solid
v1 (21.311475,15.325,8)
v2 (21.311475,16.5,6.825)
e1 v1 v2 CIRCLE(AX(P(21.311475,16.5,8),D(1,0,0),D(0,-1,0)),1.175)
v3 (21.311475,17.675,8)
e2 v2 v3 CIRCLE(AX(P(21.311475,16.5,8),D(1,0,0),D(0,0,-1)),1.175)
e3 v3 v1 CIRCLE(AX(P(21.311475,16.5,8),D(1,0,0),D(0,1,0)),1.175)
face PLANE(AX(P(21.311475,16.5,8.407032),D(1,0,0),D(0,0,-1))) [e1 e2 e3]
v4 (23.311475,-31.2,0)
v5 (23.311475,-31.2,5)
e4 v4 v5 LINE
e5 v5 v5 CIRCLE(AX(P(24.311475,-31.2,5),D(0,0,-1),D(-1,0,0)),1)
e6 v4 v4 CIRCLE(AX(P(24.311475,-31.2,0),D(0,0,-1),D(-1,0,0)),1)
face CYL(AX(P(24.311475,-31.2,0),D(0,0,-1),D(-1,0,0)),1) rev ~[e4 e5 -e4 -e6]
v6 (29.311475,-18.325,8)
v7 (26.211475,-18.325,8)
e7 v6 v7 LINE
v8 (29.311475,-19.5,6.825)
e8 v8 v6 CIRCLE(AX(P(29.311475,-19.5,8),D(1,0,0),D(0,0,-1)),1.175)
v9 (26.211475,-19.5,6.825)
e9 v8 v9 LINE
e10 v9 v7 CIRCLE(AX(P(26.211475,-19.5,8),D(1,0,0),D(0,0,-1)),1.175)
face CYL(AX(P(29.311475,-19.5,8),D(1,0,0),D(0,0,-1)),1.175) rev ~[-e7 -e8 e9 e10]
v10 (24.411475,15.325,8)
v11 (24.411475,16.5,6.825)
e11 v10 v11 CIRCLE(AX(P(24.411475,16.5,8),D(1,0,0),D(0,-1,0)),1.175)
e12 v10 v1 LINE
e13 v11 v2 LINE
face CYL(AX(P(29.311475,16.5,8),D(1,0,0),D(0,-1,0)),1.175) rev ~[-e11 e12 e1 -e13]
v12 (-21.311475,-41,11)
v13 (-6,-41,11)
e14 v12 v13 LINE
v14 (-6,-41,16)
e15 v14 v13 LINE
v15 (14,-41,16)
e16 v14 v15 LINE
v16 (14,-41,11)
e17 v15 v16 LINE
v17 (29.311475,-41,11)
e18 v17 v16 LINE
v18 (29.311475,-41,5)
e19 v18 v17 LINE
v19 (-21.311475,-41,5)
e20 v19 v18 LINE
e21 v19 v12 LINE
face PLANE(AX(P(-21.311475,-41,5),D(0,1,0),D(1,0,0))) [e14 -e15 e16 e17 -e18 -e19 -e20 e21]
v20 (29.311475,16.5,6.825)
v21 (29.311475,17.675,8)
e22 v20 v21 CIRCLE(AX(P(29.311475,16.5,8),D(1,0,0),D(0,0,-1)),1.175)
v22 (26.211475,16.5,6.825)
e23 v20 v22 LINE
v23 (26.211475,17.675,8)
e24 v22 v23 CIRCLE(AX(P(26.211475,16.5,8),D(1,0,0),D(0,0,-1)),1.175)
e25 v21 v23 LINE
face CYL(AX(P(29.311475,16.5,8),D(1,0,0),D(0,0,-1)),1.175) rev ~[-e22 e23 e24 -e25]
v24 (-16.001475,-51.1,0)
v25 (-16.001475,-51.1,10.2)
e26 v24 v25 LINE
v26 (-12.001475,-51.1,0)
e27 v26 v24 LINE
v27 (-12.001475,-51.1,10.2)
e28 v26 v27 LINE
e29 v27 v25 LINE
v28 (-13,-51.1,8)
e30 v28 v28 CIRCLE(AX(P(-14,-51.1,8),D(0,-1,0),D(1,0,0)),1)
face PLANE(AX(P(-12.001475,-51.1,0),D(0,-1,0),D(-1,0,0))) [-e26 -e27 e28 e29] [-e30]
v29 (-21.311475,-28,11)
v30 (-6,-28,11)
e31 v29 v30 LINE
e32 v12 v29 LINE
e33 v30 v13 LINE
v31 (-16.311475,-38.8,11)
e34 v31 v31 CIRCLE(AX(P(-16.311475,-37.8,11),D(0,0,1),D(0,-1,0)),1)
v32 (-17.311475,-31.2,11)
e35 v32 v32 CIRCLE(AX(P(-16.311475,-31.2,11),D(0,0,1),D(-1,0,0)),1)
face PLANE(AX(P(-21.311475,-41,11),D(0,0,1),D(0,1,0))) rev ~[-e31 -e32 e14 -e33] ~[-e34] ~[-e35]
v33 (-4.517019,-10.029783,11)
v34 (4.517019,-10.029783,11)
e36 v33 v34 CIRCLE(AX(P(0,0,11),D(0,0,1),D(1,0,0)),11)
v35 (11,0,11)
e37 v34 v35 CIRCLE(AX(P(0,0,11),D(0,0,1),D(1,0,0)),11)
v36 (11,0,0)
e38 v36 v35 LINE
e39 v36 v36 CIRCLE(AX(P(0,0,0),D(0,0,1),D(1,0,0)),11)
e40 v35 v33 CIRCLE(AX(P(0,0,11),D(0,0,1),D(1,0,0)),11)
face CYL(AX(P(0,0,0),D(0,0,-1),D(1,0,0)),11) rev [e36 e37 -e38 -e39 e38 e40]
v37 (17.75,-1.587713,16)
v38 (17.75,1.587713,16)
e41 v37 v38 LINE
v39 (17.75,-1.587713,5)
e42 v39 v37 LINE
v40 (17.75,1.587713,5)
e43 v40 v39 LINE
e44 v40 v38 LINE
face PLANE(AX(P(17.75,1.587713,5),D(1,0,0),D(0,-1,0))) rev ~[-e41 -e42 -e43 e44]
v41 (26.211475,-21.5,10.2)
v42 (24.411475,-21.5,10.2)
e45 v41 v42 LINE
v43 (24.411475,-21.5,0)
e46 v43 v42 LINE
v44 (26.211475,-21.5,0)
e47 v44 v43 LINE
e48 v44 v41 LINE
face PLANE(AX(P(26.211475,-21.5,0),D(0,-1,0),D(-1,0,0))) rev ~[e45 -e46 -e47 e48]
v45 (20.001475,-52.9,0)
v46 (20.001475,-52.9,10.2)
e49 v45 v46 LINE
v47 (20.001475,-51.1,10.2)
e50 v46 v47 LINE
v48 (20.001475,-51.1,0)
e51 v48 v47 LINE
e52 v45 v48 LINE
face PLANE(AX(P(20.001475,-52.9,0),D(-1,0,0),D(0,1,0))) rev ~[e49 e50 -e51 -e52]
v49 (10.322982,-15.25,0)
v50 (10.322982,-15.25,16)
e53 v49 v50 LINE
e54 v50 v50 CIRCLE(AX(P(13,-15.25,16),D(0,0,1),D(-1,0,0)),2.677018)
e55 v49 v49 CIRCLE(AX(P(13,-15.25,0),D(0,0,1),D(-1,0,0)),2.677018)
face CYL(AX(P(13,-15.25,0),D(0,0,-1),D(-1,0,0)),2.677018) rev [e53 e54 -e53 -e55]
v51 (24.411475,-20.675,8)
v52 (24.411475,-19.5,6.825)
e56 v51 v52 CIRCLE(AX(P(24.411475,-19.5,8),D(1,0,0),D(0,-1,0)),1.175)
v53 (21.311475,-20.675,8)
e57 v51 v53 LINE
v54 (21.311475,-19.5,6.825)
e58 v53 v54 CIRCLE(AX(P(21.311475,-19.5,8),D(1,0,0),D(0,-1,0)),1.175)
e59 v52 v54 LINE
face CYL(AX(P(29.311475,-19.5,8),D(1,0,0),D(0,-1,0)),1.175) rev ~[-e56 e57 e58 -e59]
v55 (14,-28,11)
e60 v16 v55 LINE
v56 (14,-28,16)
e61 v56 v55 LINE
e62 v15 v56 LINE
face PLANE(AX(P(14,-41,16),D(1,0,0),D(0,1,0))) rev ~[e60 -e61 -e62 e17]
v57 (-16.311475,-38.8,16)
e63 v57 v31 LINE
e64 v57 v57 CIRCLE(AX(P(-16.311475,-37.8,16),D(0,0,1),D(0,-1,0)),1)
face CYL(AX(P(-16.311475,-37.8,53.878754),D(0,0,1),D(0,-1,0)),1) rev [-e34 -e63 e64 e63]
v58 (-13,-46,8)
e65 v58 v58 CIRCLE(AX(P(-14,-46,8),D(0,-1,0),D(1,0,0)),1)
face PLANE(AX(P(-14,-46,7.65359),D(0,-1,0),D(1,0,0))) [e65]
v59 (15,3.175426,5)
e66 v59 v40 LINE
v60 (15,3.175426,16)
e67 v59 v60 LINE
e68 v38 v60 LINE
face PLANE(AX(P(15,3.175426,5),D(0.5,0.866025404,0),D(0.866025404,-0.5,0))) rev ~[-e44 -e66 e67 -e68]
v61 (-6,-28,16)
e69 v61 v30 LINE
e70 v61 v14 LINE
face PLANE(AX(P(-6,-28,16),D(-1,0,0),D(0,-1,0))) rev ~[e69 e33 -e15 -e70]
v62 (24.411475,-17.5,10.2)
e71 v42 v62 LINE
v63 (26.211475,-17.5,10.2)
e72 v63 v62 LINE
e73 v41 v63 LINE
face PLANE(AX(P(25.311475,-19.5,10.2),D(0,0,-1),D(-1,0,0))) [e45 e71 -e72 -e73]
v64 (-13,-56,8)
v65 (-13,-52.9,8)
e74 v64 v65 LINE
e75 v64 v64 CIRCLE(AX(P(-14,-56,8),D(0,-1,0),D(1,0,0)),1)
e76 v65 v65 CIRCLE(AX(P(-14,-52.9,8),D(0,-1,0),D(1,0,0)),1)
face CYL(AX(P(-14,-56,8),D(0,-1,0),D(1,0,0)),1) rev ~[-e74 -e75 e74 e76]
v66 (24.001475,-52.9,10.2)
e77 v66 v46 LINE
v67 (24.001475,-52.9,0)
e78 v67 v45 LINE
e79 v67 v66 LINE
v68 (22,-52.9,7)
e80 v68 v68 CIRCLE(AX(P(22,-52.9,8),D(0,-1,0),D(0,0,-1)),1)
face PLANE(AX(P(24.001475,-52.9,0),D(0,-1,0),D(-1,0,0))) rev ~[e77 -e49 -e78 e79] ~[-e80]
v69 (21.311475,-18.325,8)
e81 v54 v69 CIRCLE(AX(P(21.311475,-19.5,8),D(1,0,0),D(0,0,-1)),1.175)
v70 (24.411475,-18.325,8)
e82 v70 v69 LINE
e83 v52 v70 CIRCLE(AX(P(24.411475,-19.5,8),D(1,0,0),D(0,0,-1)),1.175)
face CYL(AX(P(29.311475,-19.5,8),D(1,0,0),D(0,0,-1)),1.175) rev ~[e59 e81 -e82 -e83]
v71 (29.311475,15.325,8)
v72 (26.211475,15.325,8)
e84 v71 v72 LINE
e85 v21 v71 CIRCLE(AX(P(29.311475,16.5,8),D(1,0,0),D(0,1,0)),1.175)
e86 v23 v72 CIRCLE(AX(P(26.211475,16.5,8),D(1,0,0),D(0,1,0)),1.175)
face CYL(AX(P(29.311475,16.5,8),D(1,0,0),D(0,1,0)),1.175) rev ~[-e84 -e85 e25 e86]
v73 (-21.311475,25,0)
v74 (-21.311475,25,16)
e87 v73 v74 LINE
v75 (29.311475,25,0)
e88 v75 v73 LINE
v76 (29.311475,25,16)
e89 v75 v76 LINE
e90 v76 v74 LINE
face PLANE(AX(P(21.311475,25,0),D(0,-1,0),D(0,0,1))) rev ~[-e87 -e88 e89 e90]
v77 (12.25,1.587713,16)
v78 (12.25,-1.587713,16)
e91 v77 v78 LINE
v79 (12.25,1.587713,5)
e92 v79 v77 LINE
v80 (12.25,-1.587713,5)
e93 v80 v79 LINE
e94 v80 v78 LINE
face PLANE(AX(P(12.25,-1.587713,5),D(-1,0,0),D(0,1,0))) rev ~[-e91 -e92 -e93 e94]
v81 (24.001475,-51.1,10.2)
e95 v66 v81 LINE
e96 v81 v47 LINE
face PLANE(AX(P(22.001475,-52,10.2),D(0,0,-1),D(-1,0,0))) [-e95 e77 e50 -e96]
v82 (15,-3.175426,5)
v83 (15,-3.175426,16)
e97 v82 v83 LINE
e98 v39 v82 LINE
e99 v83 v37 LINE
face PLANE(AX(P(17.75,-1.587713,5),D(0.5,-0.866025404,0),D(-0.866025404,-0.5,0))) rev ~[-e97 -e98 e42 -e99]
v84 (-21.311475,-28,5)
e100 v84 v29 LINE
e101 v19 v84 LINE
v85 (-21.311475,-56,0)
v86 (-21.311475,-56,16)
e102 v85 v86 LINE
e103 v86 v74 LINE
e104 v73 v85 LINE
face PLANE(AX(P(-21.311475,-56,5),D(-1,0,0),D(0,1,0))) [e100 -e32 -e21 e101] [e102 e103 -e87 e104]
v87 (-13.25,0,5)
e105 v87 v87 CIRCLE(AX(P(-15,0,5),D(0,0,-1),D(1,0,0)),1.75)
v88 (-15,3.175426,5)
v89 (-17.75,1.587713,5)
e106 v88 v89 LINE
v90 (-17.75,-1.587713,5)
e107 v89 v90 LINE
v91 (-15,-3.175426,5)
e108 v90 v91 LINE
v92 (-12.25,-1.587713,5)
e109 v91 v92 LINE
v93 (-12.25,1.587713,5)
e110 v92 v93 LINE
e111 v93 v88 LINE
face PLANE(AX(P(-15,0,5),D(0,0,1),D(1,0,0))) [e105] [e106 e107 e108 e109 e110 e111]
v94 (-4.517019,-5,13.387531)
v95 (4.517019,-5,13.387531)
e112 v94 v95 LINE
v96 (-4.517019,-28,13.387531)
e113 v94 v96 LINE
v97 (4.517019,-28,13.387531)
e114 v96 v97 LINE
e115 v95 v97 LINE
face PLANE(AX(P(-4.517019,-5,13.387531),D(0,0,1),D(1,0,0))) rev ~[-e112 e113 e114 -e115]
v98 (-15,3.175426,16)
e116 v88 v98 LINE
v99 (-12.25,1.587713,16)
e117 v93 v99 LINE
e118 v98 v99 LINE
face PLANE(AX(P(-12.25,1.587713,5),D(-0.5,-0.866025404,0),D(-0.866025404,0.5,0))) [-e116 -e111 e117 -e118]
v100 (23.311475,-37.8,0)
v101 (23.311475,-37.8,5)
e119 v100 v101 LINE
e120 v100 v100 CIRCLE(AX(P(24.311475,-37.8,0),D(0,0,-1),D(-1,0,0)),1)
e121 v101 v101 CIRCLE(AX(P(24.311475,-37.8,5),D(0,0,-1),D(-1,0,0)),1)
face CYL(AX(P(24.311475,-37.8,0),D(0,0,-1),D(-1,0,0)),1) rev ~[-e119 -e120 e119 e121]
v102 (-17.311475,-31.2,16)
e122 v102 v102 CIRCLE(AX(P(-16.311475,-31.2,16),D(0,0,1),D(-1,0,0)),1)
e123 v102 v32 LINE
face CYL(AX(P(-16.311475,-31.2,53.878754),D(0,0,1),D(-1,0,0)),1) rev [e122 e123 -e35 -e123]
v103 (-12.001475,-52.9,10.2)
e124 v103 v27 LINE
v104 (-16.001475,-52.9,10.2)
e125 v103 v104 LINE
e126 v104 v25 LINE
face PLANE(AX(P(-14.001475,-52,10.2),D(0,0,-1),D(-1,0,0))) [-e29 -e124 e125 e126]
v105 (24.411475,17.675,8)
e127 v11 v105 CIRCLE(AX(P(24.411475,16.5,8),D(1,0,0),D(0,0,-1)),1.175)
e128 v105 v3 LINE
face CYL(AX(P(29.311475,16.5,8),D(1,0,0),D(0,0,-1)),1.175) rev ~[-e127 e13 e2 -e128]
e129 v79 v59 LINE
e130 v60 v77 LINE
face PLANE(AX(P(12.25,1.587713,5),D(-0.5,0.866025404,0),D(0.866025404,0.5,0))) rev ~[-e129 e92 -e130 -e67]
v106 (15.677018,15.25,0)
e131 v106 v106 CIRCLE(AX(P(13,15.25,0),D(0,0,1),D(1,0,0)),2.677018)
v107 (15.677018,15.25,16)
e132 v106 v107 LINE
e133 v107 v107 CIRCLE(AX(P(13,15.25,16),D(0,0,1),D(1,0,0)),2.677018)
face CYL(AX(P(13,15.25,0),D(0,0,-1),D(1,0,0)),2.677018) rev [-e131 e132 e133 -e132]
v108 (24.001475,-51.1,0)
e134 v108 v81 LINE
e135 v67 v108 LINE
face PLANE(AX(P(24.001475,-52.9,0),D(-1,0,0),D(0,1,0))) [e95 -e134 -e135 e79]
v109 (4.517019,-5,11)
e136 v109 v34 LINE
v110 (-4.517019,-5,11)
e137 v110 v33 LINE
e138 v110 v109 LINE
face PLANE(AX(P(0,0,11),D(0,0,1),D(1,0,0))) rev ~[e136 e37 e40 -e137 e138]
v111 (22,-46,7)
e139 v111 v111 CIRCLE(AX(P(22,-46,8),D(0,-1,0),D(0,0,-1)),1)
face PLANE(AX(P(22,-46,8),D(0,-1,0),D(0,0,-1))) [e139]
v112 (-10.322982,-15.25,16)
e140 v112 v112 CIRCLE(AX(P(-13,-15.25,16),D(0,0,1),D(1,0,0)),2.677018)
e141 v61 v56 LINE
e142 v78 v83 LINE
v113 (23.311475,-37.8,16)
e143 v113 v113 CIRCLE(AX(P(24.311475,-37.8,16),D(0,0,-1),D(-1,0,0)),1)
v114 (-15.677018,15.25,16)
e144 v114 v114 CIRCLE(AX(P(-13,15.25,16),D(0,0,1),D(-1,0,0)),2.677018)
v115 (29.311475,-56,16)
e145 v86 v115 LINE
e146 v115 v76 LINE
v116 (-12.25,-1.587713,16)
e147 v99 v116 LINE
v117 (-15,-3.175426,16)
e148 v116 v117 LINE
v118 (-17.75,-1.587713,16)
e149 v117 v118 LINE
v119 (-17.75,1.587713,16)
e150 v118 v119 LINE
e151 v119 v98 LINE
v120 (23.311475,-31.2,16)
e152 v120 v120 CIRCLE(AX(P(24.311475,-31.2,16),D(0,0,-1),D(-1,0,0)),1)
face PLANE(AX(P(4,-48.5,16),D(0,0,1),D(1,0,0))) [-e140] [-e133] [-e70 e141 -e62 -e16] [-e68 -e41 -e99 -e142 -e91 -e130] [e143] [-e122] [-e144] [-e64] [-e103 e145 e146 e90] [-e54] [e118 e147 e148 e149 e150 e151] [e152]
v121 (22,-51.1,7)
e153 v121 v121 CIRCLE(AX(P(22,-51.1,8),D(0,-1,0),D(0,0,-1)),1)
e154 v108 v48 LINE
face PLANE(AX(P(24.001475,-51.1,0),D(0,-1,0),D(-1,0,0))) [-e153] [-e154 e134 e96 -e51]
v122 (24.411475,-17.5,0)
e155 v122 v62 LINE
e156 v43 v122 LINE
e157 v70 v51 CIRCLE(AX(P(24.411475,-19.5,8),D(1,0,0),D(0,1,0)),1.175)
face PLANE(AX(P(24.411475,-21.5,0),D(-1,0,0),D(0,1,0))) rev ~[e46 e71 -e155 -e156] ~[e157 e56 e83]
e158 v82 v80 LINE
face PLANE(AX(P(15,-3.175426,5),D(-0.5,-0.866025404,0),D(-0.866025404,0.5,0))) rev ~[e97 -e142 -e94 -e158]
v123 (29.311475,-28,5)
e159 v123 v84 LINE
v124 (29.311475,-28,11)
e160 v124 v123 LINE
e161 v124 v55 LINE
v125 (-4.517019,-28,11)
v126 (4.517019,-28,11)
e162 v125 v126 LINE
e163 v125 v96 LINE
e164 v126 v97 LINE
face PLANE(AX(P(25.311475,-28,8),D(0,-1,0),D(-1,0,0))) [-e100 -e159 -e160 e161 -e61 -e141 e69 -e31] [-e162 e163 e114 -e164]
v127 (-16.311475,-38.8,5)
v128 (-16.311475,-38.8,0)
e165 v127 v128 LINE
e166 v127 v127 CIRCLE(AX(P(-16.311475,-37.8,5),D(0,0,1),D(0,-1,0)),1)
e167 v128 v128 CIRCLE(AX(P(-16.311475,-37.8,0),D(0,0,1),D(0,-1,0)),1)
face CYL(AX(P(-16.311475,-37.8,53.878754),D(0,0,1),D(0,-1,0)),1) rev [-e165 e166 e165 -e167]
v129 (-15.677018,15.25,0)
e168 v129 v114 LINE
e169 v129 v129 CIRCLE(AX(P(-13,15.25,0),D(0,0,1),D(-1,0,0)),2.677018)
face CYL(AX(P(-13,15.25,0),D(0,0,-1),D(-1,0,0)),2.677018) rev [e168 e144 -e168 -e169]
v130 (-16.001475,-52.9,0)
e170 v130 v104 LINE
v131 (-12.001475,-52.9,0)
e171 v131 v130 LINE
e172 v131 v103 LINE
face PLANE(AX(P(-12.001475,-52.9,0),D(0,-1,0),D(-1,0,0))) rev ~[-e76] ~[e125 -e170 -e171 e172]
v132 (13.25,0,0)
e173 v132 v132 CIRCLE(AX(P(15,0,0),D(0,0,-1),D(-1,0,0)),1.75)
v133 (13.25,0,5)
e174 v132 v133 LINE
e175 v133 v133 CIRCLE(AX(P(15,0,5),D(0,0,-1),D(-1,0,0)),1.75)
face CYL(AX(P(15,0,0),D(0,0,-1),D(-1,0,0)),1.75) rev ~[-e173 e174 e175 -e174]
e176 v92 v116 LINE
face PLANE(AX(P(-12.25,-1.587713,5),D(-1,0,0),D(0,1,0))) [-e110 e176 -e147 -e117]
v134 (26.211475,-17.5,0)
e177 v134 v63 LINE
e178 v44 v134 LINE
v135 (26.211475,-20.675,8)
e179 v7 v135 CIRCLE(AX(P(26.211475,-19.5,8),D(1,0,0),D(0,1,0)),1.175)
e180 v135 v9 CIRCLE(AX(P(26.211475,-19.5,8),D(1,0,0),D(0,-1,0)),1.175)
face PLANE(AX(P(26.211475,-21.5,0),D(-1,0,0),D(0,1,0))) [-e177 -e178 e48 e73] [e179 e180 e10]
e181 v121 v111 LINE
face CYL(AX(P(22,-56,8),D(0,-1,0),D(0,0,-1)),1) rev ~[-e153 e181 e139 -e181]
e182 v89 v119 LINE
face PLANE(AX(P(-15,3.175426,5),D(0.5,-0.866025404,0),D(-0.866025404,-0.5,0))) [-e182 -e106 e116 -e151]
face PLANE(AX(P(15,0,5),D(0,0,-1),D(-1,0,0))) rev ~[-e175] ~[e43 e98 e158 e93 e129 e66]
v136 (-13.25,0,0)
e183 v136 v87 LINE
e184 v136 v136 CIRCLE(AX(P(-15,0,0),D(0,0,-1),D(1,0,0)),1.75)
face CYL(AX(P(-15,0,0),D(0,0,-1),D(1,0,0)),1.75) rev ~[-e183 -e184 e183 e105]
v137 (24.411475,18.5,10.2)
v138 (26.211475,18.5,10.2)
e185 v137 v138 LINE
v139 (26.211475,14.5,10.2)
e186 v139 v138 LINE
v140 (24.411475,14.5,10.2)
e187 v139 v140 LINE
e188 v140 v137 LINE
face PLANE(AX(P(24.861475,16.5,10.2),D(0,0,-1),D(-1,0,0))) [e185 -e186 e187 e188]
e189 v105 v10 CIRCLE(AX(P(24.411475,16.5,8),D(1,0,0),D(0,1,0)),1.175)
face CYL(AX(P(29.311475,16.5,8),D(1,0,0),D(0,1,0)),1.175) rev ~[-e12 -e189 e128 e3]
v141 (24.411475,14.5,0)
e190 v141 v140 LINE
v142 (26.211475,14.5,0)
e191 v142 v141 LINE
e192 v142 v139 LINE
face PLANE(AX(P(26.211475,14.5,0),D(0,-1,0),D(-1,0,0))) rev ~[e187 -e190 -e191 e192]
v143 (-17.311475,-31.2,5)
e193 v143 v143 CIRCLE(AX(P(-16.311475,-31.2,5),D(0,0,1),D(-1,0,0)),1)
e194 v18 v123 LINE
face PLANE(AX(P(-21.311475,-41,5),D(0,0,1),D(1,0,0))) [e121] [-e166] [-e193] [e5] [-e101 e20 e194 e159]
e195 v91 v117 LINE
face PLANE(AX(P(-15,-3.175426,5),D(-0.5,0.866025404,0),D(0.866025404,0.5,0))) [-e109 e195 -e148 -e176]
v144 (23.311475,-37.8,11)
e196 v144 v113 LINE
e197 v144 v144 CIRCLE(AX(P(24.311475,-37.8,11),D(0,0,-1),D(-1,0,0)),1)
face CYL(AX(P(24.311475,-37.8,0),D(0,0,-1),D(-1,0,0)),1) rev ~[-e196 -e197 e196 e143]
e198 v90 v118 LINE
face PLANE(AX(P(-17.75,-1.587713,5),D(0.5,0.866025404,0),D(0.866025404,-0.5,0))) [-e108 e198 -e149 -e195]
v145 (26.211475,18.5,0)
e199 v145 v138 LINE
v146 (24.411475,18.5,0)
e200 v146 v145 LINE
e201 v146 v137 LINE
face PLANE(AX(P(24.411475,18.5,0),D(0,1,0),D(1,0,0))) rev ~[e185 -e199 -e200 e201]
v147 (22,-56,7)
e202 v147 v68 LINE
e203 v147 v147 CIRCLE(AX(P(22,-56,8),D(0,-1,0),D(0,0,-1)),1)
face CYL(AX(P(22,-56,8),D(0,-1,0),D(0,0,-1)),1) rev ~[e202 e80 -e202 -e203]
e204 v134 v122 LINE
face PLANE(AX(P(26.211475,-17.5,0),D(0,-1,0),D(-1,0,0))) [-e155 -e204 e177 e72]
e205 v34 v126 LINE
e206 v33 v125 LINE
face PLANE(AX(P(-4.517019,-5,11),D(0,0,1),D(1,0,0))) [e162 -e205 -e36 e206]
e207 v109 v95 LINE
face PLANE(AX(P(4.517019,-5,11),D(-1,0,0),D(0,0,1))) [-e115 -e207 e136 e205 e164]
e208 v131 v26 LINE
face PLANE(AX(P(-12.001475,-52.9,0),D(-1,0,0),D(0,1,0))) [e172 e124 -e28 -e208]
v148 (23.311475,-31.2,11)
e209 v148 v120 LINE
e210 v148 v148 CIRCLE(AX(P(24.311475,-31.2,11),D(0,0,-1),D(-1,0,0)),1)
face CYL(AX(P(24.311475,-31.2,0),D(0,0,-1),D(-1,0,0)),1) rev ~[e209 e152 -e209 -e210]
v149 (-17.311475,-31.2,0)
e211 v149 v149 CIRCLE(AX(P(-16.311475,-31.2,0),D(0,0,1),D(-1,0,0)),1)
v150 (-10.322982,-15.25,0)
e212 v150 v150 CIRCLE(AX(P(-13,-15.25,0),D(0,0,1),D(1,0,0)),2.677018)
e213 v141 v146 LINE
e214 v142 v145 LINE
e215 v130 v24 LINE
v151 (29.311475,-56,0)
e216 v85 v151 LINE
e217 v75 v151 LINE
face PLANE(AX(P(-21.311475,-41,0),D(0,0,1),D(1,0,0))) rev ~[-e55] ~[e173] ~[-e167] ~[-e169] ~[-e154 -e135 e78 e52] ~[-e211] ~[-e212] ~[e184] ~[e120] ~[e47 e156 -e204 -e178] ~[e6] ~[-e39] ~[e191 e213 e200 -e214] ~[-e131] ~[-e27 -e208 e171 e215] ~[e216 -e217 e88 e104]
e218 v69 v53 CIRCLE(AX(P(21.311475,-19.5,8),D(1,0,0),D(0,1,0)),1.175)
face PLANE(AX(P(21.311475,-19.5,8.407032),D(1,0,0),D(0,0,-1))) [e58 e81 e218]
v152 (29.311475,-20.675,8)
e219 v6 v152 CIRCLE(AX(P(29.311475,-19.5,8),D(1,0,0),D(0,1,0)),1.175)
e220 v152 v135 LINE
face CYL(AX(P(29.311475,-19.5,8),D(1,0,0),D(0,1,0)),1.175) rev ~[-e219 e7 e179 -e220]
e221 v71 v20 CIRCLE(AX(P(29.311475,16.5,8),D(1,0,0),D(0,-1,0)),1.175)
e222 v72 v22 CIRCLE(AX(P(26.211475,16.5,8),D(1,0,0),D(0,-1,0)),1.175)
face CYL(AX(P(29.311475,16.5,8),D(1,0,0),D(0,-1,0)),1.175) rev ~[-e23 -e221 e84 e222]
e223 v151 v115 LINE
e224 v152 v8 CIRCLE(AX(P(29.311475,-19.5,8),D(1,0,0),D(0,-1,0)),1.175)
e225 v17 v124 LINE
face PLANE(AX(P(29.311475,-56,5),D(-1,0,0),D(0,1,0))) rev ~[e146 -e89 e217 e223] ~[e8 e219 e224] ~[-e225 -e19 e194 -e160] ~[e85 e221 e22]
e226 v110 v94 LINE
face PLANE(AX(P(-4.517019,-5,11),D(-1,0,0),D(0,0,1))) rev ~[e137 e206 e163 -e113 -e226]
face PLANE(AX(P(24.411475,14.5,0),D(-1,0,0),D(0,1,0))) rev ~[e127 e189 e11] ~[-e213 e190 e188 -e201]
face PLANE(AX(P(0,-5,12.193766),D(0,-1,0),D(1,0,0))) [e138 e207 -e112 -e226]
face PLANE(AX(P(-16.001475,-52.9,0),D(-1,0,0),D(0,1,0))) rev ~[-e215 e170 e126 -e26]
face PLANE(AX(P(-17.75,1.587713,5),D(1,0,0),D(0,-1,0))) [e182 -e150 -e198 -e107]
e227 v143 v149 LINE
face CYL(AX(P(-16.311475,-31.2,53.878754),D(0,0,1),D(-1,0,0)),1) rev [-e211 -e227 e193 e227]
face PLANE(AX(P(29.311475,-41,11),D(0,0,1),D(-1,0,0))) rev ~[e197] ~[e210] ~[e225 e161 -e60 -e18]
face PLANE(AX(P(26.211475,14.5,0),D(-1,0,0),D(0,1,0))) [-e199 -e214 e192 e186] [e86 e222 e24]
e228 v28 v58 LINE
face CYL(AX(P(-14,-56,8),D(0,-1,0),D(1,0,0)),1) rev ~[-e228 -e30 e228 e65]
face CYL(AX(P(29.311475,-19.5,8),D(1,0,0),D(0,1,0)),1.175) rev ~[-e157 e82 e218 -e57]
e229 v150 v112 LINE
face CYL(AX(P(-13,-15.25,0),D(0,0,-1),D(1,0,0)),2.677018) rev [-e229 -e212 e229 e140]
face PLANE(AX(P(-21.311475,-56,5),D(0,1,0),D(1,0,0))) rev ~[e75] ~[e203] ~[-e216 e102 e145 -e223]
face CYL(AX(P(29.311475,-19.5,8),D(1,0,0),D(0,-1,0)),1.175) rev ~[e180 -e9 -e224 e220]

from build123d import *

# Parameters (mm, degrees)
SKETCH1_W               = 42.62295082
SKETCH1_H               = 50
SKETCH1_R               = 2.677018134
BOSS_EXTRUDE1_DEPTH     = 16
SKETCH2_R               = 11
CUT_EXTRUDE2_DEPTH      = 11
SKETCH3_R               = 1.75
CUT_EXTRUDE3_DEPTH      = 10
CUT_EXTRUDE6_START      = -5
CUT_EXTRUDE6_DEPTH      = 32.540101042
SKETCH10_W              = 42.62295082
SKETCH10_H              = 16
BOSS_EXTRUDE2_DEPTH     = 16
SKETCH14_W              = 6
SKETCH14_H              = 13
CUT_EXTRUDE7_DEPTH      = 62.267576552
BOSS_EXTRUDE3_DEPTH     = 8
CUT_EXTRUDE9_DEPTH      = 8
SKETCH18_W              = 0.9
SKETCH18_H              = 4
SKETCH18_W_2            = 1.8
CUT_EXTRUDE10_DEPTH     = 10.2
CUT_EXTRUDE8_DEPTH      = 53.87875368
CUT_EXTRUDE8_DEPTH_BACK = 53.87875368
SKETCH15_R              = 1
CUT_EXTRUDE5_DEPTH      = 61.126222156
CUT_EXTRUDE5_DEPTH_BACK = 20
SKETCH6_W               = 9.034037672
SKETCH6_H               = 2.387531408
SKETCH20_W              = 8
SKETCH20_H              = 16
BOSS_EXTRUDE5_DEPTH     = 13
SKETCH21_W              = 8
SKETCH21_H              = 6
CUT_EXTRUDE11_DEPTH     = 13
SKETCH22_R              = 1
CUT_EXTRUDE12_DEPTH     = 53.87875368
SKETCH24_W              = 50.62295082
SKETCH24_H              = 5
BOSS_EXTRUDE6_DEPTH     = 15
SKETCH25_W              = 50.62295082
SKETCH25_H              = 15
BOSS_EXTRUDE7_DEPTH     = 11
SKETCH26_R              = 1
CUT_EXTRUDE13_DEPTH     = 10
SKETCH27_W              = 4
SKETCH27_H              = 1.8
CUT_EXTRUDE14_DEPTH     = 10.2
SKETCH29_W              = 20
SKETCH29_H              = 3.2
CUT_EXTRUDE15_DEPTH     = 5


with BuildPart() as part:
    # Sketch1 → Boss-Extrude1 (new body)
    with BuildSketch(Plane.XY):
        Rectangle(SKETCH1_W, SKETCH1_H)
        with Locations((-13, -15.25)):
            Circle(SKETCH1_R, mode=Mode.SUBTRACT)
        with Locations(Location((13, -15.25, 0), (0, 0, 180))):
            Circle(SKETCH1_R, mode=Mode.SUBTRACT)
        with Locations((13, 15.25)):
            Circle(SKETCH1_R, mode=Mode.SUBTRACT)
        with Locations(Location((-13, 15.25, 0), (0, 0, 180))):
            Circle(SKETCH1_R, mode=Mode.SUBTRACT)
    extrude(amount=BOSS_EXTRUDE1_DEPTH)

    # Sketch2 → Cut-Extrude2 (cut)
    with BuildSketch(Plane.XY):
        Circle(SKETCH2_R)
    extrude(amount=CUT_EXTRUDE2_DEPTH, mode=Mode.SUBTRACT)

    # Sketch3 → Cut-Extrude3 (cut)
    with BuildSketch(Plane(origin=(0, 0, 0), x_dir=(-1, 0, 0), z_dir=(0, 0, -1))):
        with Locations((-15, 0)):
            Circle(SKETCH3_R)
        with Locations(Location((15, 0, 0), (0, 0, 180))):
            Circle(SKETCH3_R)
    extrude(amount=-CUT_EXTRUDE3_DEPTH, mode=Mode.SUBTRACT)

    # Sketch9 → Cut-Extrude6 (cut, through all)
    with BuildSketch(Plane(origin=(0, 0, 0), x_dir=(-1, 0, 0), z_dir=(0, 0, -1)).offset(CUT_EXTRUDE6_START)):
        Polygon((-15, 3.175426481), (-17.75, 1.58771324), (-17.75, -1.58771324), (-15, -3.175426481), (-12.25, -1.58771324), (-12.25, 1.58771324), align=None)
        Polygon((12.25, 1.58771324), (15, 3.175426481), (17.75, 1.58771324), (17.75, -1.58771324), (15, -3.175426481), (12.25, -1.58771324), align=None)
    extrude(amount=-CUT_EXTRUDE6_DEPTH, mode=Mode.SUBTRACT)

    # Sketch10 → Boss-Extrude2 (add)
    with BuildSketch(Plane.XY):
        with Locations((0, -33)):
            Rectangle(SKETCH10_W, SKETCH10_H)
    extrude(amount=BOSS_EXTRUDE2_DEPTH)

    # Sketch14 → Cut-Extrude7 (cut, through all)
    with BuildSketch(Plane.ZY.offset(21.31147541)):
        with Locations((8, -34.5)):
            Rectangle(SKETCH14_W, SKETCH14_H)
    extrude(amount=-CUT_EXTRUDE7_DEPTH, mode=Mode.SUBTRACT)

    # Sketch16 → Boss-Extrude3 (add)
    with BuildSketch(Plane(origin=(21.31147541, 0, 0), x_dir=(0, 0, -1), z_dir=(1, 0, 0))):
        Polygon((-11, -28), (-8, -28), (-8, 25), (-16, 25), (-16, -28), align=None)
        Polygon((-8, 25), (-8, -28), (-5, -28), (0, -28), (0, 25), align=None)
    extrude(amount=BOSS_EXTRUDE3_DEPTH)

    # Sketch17 → Cut-Extrude9 (cut)
    with BuildSketch(Plane(origin=(29.31147541, 0, 0), x_dir=(0, 0, -1), z_dir=(1, 0, 0))):
        with BuildLine():
            ThreePointArc((-8, 17.675), (-9.175, 16.5), (-8, 15.325))
            Line((-8, 15.325), (-8, 17.675))
        make_face()
        with BuildLine():
            Line((-8, 17.675), (-8, 15.325))
            ThreePointArc((-8, 15.325), (-7.169149532, 15.669149532), (-6.825, 16.5))
            ThreePointArc((-6.825, 16.5), (-7.169149532, 17.330850468), (-8, 17.675))
        make_face()
        with BuildLine():
            ThreePointArc((-8, -18.325), (-9.175, -19.5), (-8, -20.675))
            Line((-8, -20.675), (-8, -18.325))
        make_face()
        with BuildLine():
            Line((-8, -18.325), (-8, -20.675))
            ThreePointArc((-8, -20.675), (-7.169149532, -20.330850468), (-6.825, -19.5))
            ThreePointArc((-6.825, -19.5), (-7.169149532, -18.669149532), (-8, -18.325))
        make_face()
    extrude(amount=-CUT_EXTRUDE9_DEPTH, mode=Mode.SUBTRACT)

    # Sketch18 → Cut-Extrude10 (cut)
    with BuildSketch(Plane(origin=(0, 0, 0), x_dir=(-1, 0, 0), z_dir=(0, 0, -1))):
        with Locations((-24.86147541, 16.5)):
            Rectangle(SKETCH18_W, SKETCH18_H)
        with Locations((-25.76147541, 16.5)):
            Rectangle(SKETCH18_W, SKETCH18_H)
        with Locations((-25.31147541, -19.5)):
            Rectangle(SKETCH18_W_2, SKETCH18_H)
    extrude(amount=-CUT_EXTRUDE10_DEPTH, mode=Mode.SUBTRACT)

    # Sketch15 → Cut-Extrude8 (cut, two sides: drawn at the far end of the back side and taken through both)
    with BuildSketch(Plane(origin=(0, 0, 0), x_dir=(-1, 0, 0), z_dir=(0, 0, -1)).offset(-CUT_EXTRUDE8_DEPTH_BACK)):
        with Locations(Location((16.31147541, -37.8, 0), (0, 0, 270))):
            Circle(SKETCH15_R)
        with Locations((16.31147541, -31.2)):
            Circle(SKETCH15_R)
    extrude(amount=CUT_EXTRUDE8_DEPTH + CUT_EXTRUDE8_DEPTH_BACK, mode=Mode.SUBTRACT)

    # Sketch6 → Cut-Extrude5 (cut, two sides: drawn at the far end of the back side and taken through both)
    with BuildSketch(Plane.XZ.offset(25).offset(-CUT_EXTRUDE5_DEPTH_BACK)):
        with Locations((0, 12.193765704)):
            Rectangle(SKETCH6_W, SKETCH6_H)
    extrude(amount=CUT_EXTRUDE5_DEPTH + CUT_EXTRUDE5_DEPTH_BACK, mode=Mode.SUBTRACT)

    # Sketch20 → Boss-Extrude5 (add)
    with BuildSketch(Plane(origin=(0, -28, 0), x_dir=(-1, 0, 0), z_dir=(0, -1, 0))):
        with Locations((-25.31147541, -8)):
            Rectangle(SKETCH20_W, SKETCH20_H)
    extrude(amount=BOSS_EXTRUDE5_DEPTH)

    # Sketch21 → Cut-Extrude11 (cut)
    with BuildSketch(Plane(origin=(0, -41, 0), x_dir=(-1, 0, 0), z_dir=(0, -1, 0))):
        with Locations((-25.31147541, -8)):
            Rectangle(SKETCH21_W, SKETCH21_H)
    extrude(amount=-CUT_EXTRUDE11_DEPTH, mode=Mode.SUBTRACT)

    # Sketch22 → Cut-Extrude12 (cut, through all)
    with BuildSketch(Plane(origin=(0, 0, 0), x_dir=(-1, 0, 0), z_dir=(0, 0, -1))):
        with Locations((-24.31147541, -37.8)):
            Circle(SKETCH22_R)
        with Locations((-24.31147541, -31.2)):
            Circle(SKETCH22_R)
    extrude(amount=-CUT_EXTRUDE12_DEPTH, mode=Mode.SUBTRACT)

    # Sketch24 → Boss-Extrude6 (add)
    with BuildSketch(Plane.XZ.offset(41)):
        with Locations((4, 2.5)):
            Rectangle(SKETCH24_W, SKETCH24_H)
    extrude(amount=BOSS_EXTRUDE6_DEPTH)

    # Sketch25 → Boss-Extrude7 (add)
    with BuildSketch(Plane.XY.offset(5)):
        with Locations((4, -48.5)):
            Rectangle(SKETCH25_W, SKETCH25_H)
    extrude(amount=BOSS_EXTRUDE7_DEPTH)

    # Sketch26 → Cut-Extrude13 (cut)
    with BuildSketch(Plane.XZ.offset(56)):
        with BuildLine():
            ThreePointArc((-15, 8), (-14, 7), (-13, 8))
            Line((-13, 8), (-15, 8))
        make_face()
        with BuildLine():
            Line((-15, 8), (-13, 8))
            ThreePointArc((-13, 8), (-14, 9), (-15, 8))
        make_face()
        with Locations(Location((22, 8, 0), (0, 0, 270))):
            Circle(SKETCH26_R)
    extrude(amount=-CUT_EXTRUDE13_DEPTH, mode=Mode.SUBTRACT)

    # Sketch27 → Cut-Extrude14 (cut)
    with BuildSketch(Plane(origin=(0, 0, 0), x_dir=(-1, 0, 0), z_dir=(0, 0, -1))):
        with Locations((-22.00147541, -52)):
            Rectangle(SKETCH27_W, SKETCH27_H)
        with Locations((14.00147541, -52)):
            Rectangle(SKETCH27_W, SKETCH27_H)
    extrude(amount=-CUT_EXTRUDE14_DEPTH, mode=Mode.SUBTRACT)

    # Sketch29 → Cut-Extrude15 (cut)
    with BuildSketch(Plane.XY.offset(16)):
        with Locations((4, -29.6)):
            Rectangle(SKETCH29_W, SKETCH29_H)
        Polygon((-6, -31.2), (-6, -32.875302663), (4, -34.5), (14, -32.875302663), (14, -31.2), align=None)
        Polygon((4, -34.5), (-6, -32.875302663), (-6, -36.124697337), align=None)
        with Locations((4, -39.4)):
            Rectangle(SKETCH29_W, SKETCH29_H)
        Polygon((14, -36.124697337), (4, -34.5), (-6, -36.124697337), (-6, -37.8), (14, -37.8), align=None)
        Polygon((14, -32.875302663), (4, -34.5), (14, -36.124697337), align=None)
    extrude(amount=-CUT_EXTRUDE15_DEPTH, mode=Mode.SUBTRACT)


solid = part.part
